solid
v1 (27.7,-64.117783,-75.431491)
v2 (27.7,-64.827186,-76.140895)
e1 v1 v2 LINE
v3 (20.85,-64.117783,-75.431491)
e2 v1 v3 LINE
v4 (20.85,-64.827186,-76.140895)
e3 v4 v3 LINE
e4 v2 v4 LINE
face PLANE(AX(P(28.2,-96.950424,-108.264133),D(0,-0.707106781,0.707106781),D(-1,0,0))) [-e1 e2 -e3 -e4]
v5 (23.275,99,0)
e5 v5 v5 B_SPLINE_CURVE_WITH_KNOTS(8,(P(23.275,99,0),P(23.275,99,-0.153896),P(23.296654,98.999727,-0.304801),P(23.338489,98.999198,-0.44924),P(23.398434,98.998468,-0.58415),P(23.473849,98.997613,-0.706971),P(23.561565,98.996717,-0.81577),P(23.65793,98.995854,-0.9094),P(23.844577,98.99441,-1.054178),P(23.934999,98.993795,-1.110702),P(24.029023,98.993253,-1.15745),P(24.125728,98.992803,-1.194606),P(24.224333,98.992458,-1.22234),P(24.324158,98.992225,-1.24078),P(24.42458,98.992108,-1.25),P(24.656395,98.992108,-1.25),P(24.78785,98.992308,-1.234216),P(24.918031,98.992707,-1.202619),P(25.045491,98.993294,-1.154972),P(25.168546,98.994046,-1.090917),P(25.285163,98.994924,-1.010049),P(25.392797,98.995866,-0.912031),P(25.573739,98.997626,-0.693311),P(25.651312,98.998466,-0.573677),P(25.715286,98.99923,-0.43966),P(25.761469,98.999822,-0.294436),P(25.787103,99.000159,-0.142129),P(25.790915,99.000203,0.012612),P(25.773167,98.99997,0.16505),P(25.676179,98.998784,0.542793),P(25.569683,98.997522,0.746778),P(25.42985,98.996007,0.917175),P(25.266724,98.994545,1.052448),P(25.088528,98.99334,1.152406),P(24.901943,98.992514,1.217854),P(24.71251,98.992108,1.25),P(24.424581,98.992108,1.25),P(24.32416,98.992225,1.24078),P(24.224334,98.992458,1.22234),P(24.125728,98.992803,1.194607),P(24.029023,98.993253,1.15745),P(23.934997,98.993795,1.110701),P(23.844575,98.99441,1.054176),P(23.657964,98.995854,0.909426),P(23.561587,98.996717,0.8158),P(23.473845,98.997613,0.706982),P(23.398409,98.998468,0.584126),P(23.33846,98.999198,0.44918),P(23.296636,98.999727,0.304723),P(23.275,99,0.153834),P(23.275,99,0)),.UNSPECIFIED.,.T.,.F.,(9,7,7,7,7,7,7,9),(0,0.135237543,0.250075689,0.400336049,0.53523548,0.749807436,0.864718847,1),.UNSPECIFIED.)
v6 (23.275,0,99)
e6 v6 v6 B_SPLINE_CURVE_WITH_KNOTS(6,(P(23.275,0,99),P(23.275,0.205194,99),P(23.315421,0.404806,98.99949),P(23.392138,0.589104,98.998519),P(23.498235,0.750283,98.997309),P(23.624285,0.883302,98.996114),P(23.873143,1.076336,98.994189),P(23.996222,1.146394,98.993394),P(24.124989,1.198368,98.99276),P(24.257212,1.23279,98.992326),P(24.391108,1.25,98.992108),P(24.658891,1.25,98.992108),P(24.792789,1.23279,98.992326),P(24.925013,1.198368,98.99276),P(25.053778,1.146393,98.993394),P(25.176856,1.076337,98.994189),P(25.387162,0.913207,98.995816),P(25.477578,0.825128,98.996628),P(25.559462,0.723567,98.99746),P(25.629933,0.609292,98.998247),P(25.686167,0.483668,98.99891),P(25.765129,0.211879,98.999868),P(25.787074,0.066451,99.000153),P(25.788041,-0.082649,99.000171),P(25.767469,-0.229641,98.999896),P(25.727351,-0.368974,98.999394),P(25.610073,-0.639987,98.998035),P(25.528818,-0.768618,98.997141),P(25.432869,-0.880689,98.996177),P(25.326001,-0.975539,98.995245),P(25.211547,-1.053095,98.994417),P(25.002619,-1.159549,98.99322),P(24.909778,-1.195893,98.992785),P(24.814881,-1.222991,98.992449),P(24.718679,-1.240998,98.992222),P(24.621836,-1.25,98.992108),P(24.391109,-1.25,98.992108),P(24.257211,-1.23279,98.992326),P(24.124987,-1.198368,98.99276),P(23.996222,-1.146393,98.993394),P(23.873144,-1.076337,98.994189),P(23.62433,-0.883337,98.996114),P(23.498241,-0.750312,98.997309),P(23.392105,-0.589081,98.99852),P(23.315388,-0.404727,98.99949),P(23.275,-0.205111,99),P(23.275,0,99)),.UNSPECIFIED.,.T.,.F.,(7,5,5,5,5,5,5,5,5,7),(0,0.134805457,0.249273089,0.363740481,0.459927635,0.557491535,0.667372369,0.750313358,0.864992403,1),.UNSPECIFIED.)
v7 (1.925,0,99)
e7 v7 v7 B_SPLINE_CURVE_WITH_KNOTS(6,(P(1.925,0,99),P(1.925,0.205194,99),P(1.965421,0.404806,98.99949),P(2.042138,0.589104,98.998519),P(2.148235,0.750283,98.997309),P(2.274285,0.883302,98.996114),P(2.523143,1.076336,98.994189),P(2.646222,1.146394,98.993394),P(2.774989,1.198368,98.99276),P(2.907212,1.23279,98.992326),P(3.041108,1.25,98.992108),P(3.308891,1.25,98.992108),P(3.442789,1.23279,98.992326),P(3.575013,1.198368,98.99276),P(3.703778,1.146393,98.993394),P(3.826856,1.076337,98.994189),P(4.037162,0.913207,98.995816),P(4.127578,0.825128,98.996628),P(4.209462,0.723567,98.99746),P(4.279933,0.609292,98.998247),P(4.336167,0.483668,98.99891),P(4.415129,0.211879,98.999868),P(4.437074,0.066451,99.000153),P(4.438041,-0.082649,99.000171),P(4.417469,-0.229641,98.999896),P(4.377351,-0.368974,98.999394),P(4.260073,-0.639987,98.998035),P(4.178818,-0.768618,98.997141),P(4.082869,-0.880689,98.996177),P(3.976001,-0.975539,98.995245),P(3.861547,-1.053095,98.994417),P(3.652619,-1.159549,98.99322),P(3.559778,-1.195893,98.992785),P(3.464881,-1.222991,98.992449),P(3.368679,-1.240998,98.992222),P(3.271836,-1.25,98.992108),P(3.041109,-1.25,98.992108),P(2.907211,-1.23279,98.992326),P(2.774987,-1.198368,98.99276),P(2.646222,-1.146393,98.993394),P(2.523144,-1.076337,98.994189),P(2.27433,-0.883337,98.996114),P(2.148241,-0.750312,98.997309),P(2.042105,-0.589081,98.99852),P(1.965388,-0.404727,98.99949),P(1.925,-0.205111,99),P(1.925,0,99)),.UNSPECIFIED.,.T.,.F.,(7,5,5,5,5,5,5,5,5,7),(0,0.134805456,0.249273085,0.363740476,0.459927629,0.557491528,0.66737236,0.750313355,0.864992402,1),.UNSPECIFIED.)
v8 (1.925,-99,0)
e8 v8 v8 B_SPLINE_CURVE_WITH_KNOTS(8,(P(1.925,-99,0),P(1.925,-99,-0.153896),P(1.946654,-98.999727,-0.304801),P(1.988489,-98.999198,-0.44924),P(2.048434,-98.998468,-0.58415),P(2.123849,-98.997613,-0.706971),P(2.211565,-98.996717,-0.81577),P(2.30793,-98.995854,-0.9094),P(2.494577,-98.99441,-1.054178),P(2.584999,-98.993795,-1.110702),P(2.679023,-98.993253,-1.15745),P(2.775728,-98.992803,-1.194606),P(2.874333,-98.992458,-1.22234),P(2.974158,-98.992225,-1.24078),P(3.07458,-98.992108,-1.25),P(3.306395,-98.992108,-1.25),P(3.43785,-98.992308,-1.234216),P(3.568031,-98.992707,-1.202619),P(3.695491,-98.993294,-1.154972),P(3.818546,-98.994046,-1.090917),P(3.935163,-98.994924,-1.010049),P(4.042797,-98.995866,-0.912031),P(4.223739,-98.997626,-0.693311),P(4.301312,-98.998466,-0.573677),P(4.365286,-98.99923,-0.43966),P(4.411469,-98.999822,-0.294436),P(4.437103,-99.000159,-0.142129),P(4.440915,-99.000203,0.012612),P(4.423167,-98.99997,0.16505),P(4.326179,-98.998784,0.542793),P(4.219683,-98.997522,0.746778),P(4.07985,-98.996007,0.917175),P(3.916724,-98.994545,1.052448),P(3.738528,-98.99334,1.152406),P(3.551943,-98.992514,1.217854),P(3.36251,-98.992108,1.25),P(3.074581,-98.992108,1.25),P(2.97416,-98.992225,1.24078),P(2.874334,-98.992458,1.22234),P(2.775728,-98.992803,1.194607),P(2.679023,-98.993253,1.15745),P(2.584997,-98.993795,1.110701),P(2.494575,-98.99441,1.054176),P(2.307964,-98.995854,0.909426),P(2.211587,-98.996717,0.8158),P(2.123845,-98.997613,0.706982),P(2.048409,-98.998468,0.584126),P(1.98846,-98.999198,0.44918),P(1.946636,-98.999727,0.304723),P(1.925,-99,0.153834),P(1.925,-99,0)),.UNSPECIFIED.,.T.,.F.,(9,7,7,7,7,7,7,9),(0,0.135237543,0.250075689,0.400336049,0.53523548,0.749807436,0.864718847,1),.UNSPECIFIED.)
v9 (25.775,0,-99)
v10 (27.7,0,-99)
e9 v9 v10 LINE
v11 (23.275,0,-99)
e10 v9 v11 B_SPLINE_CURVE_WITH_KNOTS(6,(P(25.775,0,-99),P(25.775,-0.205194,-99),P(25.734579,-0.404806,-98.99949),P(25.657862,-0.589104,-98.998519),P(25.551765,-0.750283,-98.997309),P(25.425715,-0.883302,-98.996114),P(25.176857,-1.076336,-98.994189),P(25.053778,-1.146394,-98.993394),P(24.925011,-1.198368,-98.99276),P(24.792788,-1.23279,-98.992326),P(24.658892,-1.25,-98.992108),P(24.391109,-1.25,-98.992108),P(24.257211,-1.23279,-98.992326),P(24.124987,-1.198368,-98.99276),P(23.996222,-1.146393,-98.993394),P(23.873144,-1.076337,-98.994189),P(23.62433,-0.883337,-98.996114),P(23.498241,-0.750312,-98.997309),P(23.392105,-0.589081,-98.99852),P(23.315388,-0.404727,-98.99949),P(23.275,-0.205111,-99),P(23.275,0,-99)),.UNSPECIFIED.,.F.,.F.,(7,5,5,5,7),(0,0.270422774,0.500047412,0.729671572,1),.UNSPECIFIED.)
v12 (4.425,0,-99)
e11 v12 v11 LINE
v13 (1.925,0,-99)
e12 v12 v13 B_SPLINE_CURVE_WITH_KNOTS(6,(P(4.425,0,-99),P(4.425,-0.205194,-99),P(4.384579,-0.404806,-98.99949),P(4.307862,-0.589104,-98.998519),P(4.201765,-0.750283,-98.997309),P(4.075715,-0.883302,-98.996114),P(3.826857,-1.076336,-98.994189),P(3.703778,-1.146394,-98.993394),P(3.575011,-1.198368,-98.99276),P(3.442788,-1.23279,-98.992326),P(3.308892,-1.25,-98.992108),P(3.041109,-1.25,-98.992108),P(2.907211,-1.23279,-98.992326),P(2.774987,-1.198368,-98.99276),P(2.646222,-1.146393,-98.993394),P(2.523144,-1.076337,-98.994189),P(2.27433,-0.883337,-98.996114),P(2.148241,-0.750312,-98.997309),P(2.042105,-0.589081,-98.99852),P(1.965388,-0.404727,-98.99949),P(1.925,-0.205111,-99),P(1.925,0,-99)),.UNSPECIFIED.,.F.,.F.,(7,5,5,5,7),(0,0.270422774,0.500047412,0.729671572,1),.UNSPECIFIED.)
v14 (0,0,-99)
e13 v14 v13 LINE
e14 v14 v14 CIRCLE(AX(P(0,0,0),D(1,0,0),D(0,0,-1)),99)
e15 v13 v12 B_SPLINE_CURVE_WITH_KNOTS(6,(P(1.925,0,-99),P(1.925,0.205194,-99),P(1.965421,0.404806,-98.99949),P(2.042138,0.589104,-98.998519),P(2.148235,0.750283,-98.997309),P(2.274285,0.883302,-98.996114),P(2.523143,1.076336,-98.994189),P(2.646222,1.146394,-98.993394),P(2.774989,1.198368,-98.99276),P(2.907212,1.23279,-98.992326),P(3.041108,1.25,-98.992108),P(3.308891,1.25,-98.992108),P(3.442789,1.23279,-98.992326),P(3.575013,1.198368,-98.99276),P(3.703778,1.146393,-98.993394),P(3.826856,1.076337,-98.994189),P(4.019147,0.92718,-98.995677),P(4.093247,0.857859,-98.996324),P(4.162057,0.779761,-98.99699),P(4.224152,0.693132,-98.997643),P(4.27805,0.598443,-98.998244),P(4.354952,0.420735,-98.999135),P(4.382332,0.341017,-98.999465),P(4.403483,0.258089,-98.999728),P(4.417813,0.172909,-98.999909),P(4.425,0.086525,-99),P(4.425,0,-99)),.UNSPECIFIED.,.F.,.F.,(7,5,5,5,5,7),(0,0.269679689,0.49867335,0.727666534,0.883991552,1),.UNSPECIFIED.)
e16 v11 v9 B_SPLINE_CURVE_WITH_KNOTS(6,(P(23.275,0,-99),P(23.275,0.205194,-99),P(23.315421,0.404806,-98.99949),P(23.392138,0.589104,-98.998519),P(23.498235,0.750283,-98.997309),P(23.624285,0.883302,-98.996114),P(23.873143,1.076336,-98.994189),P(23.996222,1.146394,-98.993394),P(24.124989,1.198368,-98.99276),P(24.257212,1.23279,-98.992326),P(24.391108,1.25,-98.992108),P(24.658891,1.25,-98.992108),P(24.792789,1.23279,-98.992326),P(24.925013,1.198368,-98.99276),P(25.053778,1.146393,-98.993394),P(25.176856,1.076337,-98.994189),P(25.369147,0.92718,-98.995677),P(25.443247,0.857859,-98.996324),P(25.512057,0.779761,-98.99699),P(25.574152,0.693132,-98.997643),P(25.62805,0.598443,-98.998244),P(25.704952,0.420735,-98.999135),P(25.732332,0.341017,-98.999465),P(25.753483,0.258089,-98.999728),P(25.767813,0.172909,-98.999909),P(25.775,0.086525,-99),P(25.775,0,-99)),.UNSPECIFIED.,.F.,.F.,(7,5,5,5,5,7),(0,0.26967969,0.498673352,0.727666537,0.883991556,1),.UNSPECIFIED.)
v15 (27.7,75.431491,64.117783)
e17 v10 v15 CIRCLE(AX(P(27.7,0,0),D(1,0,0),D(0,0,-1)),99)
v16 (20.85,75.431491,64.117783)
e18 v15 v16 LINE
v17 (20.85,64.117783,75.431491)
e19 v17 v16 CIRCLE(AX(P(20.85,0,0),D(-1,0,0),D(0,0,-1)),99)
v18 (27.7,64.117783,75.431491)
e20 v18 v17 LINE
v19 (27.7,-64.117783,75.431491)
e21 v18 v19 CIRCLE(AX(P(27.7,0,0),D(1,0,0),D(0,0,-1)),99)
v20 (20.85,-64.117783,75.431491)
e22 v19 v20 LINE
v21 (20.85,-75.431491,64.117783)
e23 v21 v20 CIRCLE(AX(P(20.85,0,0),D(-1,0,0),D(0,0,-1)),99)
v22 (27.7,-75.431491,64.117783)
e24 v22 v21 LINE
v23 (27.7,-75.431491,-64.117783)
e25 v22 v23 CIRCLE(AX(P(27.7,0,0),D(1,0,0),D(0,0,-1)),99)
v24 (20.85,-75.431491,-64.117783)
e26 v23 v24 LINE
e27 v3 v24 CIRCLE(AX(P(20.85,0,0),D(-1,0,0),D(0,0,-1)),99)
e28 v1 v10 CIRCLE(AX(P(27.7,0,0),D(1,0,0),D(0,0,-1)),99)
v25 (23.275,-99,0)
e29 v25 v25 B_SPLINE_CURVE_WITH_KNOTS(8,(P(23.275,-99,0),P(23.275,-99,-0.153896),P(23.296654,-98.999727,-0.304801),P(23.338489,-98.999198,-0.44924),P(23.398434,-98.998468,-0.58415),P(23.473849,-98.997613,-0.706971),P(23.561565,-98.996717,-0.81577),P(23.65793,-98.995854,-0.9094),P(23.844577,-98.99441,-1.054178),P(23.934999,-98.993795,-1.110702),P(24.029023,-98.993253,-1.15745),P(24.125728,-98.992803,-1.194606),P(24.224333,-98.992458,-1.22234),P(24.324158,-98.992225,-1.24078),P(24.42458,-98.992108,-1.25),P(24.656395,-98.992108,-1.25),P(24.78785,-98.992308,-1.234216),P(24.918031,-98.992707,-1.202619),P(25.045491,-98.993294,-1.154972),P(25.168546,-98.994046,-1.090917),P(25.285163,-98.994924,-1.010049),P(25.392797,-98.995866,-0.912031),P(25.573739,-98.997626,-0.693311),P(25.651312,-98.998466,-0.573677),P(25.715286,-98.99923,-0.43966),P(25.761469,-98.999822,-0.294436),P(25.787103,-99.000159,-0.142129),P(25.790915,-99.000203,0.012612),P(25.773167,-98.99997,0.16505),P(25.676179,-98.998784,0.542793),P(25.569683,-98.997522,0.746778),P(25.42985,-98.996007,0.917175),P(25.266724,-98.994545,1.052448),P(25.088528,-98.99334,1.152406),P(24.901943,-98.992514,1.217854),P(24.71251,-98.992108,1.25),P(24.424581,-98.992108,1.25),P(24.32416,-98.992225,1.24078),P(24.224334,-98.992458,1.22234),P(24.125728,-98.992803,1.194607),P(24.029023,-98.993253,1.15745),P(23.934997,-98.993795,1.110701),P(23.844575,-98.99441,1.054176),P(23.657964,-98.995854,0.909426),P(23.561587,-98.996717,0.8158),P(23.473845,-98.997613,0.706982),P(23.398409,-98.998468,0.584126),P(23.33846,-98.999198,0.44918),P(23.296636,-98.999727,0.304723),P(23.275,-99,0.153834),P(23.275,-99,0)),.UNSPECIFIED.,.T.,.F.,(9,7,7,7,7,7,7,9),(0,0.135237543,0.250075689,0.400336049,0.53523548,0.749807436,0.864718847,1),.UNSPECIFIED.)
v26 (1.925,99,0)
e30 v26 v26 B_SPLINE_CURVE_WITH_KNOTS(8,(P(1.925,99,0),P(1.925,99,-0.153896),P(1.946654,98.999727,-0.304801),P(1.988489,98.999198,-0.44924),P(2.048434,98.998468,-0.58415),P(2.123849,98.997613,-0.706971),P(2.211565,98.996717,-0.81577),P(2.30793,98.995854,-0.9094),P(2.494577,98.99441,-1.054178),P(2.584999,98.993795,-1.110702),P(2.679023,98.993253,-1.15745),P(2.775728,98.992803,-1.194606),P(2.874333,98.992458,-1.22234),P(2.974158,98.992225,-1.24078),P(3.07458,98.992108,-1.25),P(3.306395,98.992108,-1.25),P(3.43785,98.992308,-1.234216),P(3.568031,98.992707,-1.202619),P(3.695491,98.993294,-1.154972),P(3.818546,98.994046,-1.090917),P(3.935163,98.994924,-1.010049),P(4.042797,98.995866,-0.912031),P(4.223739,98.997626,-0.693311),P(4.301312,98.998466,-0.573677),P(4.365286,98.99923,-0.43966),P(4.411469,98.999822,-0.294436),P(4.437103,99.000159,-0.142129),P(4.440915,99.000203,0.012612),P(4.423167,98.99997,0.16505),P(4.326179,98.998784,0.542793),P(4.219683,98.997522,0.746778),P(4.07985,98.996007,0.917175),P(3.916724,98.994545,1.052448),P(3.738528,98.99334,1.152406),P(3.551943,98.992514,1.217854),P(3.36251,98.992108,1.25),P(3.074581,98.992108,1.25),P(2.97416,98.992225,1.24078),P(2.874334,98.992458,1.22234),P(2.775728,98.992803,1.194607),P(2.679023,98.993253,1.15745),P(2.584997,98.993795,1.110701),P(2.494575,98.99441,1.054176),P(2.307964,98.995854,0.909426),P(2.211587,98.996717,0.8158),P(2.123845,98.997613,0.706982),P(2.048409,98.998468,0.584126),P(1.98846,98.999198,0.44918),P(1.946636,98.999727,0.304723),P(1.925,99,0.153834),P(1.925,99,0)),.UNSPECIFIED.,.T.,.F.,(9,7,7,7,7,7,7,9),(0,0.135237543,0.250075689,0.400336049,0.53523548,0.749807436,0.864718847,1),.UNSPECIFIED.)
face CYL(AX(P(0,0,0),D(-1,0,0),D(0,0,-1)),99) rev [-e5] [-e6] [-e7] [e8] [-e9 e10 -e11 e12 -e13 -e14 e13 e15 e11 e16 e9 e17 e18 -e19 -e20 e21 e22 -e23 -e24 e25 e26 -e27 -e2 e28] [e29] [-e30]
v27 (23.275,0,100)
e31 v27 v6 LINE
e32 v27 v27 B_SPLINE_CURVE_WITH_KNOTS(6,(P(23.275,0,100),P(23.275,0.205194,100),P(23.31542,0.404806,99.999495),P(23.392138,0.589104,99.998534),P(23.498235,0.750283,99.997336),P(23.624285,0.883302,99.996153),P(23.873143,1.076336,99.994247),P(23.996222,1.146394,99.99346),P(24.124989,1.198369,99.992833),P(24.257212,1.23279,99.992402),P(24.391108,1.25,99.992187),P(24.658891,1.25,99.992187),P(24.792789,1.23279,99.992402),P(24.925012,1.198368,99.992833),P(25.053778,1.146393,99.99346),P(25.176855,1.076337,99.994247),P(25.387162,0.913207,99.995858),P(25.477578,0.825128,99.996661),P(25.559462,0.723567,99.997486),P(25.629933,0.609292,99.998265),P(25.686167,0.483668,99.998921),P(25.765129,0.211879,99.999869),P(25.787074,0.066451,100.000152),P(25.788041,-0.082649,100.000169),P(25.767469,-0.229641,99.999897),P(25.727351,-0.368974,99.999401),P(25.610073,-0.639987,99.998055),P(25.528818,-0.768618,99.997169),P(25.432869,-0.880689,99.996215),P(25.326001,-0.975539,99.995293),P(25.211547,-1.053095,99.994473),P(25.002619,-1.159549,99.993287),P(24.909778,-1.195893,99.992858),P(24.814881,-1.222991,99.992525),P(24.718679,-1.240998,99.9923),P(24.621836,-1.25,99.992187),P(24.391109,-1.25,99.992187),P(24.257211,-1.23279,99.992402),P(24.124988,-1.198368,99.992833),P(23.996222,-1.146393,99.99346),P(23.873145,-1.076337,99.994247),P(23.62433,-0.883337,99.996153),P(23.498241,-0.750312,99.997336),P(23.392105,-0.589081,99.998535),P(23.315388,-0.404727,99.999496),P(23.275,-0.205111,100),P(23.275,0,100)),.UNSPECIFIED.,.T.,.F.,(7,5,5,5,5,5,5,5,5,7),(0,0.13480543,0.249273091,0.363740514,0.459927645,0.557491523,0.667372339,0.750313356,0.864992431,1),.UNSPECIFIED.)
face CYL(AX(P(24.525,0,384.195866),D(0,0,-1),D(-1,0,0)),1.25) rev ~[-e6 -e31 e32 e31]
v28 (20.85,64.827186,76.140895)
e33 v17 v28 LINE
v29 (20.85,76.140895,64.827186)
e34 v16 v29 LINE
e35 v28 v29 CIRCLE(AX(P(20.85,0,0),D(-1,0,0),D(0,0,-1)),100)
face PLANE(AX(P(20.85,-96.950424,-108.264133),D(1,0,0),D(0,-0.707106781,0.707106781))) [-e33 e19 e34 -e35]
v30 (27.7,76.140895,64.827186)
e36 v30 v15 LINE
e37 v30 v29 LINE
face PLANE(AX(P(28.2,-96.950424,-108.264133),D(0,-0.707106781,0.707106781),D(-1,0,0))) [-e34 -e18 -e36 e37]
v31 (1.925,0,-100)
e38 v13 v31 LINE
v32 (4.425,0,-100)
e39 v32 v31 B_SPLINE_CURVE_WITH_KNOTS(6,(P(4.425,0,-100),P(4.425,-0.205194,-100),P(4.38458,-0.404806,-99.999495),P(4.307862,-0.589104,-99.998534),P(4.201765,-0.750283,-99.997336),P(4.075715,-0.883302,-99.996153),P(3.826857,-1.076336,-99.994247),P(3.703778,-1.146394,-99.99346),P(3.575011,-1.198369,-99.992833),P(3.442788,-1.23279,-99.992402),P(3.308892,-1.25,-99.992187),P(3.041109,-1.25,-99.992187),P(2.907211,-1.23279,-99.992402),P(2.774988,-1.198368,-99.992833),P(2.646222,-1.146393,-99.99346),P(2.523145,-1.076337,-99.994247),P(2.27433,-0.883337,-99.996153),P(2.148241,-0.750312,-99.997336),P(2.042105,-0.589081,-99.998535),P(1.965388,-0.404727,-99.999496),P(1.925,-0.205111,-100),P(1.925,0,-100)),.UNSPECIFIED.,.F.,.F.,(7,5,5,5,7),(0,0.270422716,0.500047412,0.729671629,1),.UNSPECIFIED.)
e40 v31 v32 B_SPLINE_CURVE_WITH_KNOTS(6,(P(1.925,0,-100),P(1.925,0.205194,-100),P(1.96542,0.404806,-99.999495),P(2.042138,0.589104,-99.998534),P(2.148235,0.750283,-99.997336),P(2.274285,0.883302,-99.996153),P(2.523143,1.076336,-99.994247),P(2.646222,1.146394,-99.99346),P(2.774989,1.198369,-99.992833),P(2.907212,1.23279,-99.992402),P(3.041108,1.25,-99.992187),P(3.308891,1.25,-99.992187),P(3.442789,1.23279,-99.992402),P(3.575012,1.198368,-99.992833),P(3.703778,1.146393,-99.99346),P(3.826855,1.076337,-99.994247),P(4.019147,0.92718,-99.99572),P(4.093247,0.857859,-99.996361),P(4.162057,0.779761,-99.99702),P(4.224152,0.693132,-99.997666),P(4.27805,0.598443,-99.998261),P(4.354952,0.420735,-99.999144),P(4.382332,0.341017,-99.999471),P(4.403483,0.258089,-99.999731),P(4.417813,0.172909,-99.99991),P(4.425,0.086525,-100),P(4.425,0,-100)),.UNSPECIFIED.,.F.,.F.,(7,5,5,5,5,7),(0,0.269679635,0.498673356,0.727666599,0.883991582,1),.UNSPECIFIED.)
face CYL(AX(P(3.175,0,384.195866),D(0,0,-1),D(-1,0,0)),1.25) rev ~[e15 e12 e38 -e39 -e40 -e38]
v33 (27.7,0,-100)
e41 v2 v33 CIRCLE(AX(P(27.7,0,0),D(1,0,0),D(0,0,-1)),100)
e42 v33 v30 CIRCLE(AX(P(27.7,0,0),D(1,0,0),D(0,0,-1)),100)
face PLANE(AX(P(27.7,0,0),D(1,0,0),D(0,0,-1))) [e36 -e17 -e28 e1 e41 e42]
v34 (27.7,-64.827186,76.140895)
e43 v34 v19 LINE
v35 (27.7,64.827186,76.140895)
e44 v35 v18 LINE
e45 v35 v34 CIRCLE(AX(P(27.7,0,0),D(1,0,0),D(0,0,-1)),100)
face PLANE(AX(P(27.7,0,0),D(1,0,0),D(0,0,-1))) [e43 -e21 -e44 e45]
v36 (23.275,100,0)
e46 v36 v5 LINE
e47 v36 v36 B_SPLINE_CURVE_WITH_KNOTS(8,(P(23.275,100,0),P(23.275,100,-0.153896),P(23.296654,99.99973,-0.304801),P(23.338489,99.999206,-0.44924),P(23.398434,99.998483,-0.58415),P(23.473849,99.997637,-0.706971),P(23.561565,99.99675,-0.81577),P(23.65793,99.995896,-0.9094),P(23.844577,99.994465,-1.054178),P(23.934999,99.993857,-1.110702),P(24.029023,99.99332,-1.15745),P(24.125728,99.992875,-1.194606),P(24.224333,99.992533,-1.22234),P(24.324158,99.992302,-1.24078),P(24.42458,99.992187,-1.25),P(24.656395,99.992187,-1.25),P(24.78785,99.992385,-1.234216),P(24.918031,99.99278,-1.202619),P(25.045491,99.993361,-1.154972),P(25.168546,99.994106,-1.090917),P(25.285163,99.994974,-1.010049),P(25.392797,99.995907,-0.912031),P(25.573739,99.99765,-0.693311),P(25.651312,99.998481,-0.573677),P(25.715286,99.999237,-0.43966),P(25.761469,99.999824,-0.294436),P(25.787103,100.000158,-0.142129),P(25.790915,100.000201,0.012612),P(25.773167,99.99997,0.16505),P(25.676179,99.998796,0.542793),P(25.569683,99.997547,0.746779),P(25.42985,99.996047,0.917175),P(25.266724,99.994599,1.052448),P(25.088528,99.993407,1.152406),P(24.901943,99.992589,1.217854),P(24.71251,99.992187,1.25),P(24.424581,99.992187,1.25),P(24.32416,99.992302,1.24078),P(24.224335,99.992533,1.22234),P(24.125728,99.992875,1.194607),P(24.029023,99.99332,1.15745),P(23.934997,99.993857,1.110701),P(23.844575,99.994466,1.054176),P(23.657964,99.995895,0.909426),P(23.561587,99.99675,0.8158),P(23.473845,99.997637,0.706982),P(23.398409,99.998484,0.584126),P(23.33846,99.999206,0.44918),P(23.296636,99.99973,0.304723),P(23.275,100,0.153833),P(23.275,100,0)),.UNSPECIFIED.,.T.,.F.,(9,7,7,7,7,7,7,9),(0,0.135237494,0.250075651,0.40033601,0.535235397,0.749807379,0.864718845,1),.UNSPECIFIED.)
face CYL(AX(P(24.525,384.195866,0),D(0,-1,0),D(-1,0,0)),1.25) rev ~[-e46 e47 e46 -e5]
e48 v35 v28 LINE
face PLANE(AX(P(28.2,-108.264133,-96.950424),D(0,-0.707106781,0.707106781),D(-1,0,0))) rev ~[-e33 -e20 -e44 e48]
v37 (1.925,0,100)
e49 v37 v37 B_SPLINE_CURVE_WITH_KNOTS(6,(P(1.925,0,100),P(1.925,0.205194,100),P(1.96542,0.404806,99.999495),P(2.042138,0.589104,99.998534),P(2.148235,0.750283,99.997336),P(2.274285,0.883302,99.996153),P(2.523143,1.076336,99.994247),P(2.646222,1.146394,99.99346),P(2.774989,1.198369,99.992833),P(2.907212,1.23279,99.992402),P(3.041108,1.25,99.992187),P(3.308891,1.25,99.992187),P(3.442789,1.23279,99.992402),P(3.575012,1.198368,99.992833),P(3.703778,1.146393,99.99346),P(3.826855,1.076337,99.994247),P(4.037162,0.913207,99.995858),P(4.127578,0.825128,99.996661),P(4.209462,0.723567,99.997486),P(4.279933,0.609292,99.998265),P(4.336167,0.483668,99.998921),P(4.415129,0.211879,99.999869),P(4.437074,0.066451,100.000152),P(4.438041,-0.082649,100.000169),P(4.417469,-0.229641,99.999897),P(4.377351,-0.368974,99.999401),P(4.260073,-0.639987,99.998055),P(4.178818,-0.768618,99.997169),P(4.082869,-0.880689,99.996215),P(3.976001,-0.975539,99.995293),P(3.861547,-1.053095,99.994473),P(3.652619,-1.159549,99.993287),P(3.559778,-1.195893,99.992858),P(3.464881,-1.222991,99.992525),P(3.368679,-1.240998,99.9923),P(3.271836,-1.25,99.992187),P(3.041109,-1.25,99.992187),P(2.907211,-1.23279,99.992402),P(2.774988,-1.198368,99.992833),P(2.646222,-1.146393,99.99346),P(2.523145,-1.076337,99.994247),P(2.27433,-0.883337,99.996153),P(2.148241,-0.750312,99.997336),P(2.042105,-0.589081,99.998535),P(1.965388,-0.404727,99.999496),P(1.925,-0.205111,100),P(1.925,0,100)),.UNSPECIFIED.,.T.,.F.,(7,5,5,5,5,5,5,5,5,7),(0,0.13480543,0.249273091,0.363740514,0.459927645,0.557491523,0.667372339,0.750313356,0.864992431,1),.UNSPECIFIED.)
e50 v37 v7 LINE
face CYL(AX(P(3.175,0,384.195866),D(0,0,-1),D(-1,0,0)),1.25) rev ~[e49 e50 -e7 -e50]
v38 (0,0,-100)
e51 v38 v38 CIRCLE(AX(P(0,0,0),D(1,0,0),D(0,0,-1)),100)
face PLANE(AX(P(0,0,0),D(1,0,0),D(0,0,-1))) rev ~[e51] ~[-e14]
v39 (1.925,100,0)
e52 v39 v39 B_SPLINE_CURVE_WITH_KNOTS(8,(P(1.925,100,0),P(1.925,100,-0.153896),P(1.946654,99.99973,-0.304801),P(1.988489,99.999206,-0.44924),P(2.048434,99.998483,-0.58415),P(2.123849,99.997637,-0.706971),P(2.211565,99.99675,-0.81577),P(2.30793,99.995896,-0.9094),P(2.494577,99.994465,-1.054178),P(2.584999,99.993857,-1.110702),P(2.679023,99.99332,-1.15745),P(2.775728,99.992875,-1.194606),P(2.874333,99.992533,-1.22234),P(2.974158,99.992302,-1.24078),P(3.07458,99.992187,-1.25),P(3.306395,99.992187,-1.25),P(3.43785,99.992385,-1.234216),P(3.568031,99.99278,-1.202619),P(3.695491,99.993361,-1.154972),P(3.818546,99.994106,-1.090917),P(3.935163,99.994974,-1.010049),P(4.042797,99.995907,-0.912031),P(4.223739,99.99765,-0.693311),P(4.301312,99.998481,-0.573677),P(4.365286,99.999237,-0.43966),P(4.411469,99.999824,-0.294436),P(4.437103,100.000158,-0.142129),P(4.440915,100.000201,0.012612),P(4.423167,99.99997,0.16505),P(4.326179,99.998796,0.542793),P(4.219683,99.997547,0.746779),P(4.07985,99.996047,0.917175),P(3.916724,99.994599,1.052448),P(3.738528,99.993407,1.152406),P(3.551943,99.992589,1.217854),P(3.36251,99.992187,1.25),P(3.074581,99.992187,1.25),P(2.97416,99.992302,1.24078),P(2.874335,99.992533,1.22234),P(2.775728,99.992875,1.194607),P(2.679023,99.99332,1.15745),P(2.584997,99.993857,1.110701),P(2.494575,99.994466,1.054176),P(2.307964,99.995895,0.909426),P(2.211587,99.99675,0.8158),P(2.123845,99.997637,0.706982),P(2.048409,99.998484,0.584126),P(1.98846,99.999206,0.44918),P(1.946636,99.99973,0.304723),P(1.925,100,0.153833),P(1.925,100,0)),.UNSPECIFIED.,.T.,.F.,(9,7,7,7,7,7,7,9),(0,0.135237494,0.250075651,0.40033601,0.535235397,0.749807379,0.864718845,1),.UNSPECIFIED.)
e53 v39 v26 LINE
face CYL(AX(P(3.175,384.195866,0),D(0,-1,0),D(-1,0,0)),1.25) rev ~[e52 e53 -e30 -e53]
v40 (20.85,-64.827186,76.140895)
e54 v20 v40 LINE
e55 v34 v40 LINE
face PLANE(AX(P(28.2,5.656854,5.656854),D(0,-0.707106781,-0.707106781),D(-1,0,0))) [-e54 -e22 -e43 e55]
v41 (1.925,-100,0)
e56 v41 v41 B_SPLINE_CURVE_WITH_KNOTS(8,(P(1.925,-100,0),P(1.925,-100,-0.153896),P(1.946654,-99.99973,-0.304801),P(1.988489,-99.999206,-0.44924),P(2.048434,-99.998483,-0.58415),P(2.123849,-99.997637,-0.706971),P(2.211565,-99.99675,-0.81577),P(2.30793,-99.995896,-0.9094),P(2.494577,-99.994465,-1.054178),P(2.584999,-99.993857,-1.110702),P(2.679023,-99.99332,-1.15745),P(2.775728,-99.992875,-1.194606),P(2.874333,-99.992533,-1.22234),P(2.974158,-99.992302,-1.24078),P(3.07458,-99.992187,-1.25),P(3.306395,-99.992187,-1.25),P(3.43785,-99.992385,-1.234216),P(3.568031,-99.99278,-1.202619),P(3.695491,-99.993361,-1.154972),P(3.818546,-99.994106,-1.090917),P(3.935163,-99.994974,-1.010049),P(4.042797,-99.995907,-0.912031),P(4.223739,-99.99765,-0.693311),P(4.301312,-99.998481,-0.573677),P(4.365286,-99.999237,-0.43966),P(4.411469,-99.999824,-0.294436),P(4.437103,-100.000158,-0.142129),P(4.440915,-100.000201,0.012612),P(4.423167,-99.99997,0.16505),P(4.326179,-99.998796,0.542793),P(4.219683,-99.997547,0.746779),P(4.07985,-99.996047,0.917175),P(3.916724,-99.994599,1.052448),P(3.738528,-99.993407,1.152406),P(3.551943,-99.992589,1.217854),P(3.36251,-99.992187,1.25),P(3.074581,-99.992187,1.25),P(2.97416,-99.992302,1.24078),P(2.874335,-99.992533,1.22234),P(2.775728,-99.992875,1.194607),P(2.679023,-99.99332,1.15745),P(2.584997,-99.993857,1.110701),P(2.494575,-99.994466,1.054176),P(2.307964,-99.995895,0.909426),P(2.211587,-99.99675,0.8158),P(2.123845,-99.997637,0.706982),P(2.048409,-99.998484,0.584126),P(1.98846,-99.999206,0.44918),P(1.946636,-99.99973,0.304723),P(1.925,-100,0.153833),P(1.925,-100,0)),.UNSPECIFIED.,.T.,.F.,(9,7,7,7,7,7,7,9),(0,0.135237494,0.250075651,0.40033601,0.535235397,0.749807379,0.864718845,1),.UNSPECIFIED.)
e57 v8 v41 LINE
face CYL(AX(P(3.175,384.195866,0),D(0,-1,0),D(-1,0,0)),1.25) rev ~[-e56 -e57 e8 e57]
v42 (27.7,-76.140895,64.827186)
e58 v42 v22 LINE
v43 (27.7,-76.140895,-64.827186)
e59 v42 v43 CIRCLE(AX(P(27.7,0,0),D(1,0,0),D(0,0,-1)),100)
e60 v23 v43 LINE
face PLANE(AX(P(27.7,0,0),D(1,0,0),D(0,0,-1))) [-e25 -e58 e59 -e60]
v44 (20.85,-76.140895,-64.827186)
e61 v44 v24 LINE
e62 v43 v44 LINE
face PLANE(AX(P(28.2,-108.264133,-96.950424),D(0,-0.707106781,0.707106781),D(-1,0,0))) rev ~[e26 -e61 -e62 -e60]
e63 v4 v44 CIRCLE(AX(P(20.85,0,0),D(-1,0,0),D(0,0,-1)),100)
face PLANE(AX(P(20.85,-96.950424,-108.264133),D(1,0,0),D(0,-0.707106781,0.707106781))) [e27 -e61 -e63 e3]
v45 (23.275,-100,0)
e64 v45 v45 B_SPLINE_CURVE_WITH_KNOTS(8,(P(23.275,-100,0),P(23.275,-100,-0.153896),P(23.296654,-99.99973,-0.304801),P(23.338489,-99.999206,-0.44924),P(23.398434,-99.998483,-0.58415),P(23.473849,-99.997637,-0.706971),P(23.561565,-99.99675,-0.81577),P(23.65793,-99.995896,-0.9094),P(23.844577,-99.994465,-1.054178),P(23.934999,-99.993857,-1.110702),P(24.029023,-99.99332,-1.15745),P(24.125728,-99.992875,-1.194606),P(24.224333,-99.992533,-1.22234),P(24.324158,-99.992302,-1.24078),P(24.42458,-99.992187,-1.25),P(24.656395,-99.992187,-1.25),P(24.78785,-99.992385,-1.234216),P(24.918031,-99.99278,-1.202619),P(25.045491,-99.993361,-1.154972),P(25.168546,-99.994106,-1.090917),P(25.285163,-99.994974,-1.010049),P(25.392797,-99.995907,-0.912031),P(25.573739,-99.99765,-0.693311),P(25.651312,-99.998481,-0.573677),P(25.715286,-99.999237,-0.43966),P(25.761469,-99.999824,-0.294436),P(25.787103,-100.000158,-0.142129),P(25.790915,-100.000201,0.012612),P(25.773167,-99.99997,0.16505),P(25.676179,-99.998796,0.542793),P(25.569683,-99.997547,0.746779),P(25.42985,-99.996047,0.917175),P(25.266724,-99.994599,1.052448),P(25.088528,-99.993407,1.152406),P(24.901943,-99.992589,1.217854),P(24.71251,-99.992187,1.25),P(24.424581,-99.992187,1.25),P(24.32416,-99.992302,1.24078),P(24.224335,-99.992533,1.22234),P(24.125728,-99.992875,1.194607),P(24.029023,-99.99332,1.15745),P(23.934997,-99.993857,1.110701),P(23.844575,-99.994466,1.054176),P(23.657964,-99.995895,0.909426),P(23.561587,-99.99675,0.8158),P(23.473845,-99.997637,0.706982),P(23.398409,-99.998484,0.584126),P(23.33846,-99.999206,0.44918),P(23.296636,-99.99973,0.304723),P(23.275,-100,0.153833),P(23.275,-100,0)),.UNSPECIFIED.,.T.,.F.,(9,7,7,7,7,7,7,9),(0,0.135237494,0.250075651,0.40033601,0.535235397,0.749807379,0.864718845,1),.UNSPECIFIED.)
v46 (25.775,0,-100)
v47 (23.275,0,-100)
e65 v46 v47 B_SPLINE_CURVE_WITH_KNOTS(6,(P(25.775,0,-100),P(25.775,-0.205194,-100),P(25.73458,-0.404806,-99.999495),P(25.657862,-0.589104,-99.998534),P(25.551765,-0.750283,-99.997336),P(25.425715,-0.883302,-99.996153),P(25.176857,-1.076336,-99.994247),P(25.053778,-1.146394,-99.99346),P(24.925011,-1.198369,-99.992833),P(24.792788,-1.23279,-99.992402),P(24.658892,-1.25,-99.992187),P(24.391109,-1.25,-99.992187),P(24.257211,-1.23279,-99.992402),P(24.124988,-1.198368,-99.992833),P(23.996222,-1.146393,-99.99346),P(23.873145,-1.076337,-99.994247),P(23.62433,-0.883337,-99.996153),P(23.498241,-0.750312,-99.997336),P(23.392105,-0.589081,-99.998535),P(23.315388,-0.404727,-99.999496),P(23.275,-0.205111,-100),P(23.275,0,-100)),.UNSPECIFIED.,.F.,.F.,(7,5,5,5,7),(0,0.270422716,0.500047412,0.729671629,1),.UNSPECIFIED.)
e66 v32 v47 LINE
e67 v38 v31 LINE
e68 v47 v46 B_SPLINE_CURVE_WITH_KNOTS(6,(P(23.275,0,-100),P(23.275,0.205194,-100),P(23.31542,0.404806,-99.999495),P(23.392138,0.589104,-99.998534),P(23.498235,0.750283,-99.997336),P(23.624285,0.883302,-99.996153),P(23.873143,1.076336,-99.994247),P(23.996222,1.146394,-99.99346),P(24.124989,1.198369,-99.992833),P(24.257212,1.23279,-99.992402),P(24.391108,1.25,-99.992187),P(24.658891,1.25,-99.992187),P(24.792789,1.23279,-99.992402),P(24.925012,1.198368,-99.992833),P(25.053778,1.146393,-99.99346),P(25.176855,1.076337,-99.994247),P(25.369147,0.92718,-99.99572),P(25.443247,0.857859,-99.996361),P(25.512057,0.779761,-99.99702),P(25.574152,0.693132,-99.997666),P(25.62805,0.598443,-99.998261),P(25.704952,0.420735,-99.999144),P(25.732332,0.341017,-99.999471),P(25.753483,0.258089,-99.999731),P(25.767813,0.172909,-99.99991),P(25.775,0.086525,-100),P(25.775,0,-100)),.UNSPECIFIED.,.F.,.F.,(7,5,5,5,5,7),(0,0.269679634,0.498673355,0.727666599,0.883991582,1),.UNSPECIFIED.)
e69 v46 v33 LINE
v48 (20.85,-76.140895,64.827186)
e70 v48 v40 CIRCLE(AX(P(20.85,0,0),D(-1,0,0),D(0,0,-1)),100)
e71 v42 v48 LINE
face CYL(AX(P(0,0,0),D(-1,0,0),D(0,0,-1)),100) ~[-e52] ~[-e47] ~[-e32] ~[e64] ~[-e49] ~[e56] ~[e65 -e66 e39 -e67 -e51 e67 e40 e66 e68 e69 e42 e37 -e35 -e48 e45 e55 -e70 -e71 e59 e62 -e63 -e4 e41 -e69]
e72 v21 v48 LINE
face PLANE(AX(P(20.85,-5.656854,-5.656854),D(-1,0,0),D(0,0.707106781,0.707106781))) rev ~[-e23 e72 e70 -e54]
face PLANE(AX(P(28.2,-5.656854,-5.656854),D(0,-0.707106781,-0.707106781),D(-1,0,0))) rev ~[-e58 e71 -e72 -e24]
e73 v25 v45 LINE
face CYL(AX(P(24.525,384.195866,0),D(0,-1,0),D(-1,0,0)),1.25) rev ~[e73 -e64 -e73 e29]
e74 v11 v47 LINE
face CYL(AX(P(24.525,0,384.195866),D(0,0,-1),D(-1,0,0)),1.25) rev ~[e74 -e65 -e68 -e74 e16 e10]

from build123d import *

# Parameters (mm, degrees)
SKETCH1_R               = 100
SKETCH1_R_2             = 99
BOSS_EXTRUDE1_DEPTH     = 27.7
F_2_5MM_DOWEL_HOLE1_D   = 2.5
F_2_5MM_DOWEL_HOLE2_D   = 2.5
SKETCH6_W               = 7.35
SKETCH6_H               = 16
CUT_EXTRUDE1_DEPTH      = 145.108605038
CUT_EXTRUDE2_DEPTH      = 145.108605038
CUT_EXTRUDE2_DEPTH_BACK = 145.108605038
SKETCH7_W               = 7.35
SKETCH7_H               = 16


with BuildPart() as part:
    # Sketch1 → Boss-Extrude1 (new body)
    with BuildSketch(Plane(origin=(0, 0, 0), x_dir=(0, 0, -1), z_dir=(1, 0, 0))):
        Circle(SKETCH1_R)
        Circle(SKETCH1_R_2, mode=Mode.SUBTRACT)
    extrude(amount=BOSS_EXTRUDE1_DEPTH)

    # Ø2.5mm Dowel Hole1 (through all)
    with Locations(Plane.XY.offset(100)):
        with Locations((24.525, 0), (3.175, 0)):
            Hole(F_2_5MM_DOWEL_HOLE1_D / 2)

    # Ø2.5mm Dowel Hole2 (through all)
    with Locations(Plane(origin=(0, 100, 0), x_dir=(1, 0, 0), z_dir=(0, 1, 0))):
        with Locations((24.525, 0), (3.175, 0)):
            Hole(F_2_5MM_DOWEL_HOLE2_D / 2)

    # Sketch6 → Cut-Extrude1 (cut, through all)
    with BuildSketch(Plane(origin=(0, 0, 0), x_dir=(-1, 0, 0), z_dir=(0, 0.7071067811865475, -0.7071067811865477))):
        with Locations((-24.525, 0)):
            Rectangle(SKETCH6_W, SKETCH6_H)
    extrude(amount=-CUT_EXTRUDE1_DEPTH, mode=Mode.SUBTRACT)

    # Sketch7 → Cut-Extrude2 (cut, two sides: drawn at the far end of the back side and taken through both)
    with BuildSketch(Plane(origin=(0, 0, 0), x_dir=(-1, 0, 0), z_dir=(0, 0.7071067811865476, 0.7071067811865476)).offset(-CUT_EXTRUDE2_DEPTH_BACK)):
        with Locations((-24.525, 0)):
            Rectangle(SKETCH7_W, SKETCH7_H)
    extrude(amount=CUT_EXTRUDE2_DEPTH + CUT_EXTRUDE2_DEPTH_BACK, mode=Mode.SUBTRACT)


solid = part.part
